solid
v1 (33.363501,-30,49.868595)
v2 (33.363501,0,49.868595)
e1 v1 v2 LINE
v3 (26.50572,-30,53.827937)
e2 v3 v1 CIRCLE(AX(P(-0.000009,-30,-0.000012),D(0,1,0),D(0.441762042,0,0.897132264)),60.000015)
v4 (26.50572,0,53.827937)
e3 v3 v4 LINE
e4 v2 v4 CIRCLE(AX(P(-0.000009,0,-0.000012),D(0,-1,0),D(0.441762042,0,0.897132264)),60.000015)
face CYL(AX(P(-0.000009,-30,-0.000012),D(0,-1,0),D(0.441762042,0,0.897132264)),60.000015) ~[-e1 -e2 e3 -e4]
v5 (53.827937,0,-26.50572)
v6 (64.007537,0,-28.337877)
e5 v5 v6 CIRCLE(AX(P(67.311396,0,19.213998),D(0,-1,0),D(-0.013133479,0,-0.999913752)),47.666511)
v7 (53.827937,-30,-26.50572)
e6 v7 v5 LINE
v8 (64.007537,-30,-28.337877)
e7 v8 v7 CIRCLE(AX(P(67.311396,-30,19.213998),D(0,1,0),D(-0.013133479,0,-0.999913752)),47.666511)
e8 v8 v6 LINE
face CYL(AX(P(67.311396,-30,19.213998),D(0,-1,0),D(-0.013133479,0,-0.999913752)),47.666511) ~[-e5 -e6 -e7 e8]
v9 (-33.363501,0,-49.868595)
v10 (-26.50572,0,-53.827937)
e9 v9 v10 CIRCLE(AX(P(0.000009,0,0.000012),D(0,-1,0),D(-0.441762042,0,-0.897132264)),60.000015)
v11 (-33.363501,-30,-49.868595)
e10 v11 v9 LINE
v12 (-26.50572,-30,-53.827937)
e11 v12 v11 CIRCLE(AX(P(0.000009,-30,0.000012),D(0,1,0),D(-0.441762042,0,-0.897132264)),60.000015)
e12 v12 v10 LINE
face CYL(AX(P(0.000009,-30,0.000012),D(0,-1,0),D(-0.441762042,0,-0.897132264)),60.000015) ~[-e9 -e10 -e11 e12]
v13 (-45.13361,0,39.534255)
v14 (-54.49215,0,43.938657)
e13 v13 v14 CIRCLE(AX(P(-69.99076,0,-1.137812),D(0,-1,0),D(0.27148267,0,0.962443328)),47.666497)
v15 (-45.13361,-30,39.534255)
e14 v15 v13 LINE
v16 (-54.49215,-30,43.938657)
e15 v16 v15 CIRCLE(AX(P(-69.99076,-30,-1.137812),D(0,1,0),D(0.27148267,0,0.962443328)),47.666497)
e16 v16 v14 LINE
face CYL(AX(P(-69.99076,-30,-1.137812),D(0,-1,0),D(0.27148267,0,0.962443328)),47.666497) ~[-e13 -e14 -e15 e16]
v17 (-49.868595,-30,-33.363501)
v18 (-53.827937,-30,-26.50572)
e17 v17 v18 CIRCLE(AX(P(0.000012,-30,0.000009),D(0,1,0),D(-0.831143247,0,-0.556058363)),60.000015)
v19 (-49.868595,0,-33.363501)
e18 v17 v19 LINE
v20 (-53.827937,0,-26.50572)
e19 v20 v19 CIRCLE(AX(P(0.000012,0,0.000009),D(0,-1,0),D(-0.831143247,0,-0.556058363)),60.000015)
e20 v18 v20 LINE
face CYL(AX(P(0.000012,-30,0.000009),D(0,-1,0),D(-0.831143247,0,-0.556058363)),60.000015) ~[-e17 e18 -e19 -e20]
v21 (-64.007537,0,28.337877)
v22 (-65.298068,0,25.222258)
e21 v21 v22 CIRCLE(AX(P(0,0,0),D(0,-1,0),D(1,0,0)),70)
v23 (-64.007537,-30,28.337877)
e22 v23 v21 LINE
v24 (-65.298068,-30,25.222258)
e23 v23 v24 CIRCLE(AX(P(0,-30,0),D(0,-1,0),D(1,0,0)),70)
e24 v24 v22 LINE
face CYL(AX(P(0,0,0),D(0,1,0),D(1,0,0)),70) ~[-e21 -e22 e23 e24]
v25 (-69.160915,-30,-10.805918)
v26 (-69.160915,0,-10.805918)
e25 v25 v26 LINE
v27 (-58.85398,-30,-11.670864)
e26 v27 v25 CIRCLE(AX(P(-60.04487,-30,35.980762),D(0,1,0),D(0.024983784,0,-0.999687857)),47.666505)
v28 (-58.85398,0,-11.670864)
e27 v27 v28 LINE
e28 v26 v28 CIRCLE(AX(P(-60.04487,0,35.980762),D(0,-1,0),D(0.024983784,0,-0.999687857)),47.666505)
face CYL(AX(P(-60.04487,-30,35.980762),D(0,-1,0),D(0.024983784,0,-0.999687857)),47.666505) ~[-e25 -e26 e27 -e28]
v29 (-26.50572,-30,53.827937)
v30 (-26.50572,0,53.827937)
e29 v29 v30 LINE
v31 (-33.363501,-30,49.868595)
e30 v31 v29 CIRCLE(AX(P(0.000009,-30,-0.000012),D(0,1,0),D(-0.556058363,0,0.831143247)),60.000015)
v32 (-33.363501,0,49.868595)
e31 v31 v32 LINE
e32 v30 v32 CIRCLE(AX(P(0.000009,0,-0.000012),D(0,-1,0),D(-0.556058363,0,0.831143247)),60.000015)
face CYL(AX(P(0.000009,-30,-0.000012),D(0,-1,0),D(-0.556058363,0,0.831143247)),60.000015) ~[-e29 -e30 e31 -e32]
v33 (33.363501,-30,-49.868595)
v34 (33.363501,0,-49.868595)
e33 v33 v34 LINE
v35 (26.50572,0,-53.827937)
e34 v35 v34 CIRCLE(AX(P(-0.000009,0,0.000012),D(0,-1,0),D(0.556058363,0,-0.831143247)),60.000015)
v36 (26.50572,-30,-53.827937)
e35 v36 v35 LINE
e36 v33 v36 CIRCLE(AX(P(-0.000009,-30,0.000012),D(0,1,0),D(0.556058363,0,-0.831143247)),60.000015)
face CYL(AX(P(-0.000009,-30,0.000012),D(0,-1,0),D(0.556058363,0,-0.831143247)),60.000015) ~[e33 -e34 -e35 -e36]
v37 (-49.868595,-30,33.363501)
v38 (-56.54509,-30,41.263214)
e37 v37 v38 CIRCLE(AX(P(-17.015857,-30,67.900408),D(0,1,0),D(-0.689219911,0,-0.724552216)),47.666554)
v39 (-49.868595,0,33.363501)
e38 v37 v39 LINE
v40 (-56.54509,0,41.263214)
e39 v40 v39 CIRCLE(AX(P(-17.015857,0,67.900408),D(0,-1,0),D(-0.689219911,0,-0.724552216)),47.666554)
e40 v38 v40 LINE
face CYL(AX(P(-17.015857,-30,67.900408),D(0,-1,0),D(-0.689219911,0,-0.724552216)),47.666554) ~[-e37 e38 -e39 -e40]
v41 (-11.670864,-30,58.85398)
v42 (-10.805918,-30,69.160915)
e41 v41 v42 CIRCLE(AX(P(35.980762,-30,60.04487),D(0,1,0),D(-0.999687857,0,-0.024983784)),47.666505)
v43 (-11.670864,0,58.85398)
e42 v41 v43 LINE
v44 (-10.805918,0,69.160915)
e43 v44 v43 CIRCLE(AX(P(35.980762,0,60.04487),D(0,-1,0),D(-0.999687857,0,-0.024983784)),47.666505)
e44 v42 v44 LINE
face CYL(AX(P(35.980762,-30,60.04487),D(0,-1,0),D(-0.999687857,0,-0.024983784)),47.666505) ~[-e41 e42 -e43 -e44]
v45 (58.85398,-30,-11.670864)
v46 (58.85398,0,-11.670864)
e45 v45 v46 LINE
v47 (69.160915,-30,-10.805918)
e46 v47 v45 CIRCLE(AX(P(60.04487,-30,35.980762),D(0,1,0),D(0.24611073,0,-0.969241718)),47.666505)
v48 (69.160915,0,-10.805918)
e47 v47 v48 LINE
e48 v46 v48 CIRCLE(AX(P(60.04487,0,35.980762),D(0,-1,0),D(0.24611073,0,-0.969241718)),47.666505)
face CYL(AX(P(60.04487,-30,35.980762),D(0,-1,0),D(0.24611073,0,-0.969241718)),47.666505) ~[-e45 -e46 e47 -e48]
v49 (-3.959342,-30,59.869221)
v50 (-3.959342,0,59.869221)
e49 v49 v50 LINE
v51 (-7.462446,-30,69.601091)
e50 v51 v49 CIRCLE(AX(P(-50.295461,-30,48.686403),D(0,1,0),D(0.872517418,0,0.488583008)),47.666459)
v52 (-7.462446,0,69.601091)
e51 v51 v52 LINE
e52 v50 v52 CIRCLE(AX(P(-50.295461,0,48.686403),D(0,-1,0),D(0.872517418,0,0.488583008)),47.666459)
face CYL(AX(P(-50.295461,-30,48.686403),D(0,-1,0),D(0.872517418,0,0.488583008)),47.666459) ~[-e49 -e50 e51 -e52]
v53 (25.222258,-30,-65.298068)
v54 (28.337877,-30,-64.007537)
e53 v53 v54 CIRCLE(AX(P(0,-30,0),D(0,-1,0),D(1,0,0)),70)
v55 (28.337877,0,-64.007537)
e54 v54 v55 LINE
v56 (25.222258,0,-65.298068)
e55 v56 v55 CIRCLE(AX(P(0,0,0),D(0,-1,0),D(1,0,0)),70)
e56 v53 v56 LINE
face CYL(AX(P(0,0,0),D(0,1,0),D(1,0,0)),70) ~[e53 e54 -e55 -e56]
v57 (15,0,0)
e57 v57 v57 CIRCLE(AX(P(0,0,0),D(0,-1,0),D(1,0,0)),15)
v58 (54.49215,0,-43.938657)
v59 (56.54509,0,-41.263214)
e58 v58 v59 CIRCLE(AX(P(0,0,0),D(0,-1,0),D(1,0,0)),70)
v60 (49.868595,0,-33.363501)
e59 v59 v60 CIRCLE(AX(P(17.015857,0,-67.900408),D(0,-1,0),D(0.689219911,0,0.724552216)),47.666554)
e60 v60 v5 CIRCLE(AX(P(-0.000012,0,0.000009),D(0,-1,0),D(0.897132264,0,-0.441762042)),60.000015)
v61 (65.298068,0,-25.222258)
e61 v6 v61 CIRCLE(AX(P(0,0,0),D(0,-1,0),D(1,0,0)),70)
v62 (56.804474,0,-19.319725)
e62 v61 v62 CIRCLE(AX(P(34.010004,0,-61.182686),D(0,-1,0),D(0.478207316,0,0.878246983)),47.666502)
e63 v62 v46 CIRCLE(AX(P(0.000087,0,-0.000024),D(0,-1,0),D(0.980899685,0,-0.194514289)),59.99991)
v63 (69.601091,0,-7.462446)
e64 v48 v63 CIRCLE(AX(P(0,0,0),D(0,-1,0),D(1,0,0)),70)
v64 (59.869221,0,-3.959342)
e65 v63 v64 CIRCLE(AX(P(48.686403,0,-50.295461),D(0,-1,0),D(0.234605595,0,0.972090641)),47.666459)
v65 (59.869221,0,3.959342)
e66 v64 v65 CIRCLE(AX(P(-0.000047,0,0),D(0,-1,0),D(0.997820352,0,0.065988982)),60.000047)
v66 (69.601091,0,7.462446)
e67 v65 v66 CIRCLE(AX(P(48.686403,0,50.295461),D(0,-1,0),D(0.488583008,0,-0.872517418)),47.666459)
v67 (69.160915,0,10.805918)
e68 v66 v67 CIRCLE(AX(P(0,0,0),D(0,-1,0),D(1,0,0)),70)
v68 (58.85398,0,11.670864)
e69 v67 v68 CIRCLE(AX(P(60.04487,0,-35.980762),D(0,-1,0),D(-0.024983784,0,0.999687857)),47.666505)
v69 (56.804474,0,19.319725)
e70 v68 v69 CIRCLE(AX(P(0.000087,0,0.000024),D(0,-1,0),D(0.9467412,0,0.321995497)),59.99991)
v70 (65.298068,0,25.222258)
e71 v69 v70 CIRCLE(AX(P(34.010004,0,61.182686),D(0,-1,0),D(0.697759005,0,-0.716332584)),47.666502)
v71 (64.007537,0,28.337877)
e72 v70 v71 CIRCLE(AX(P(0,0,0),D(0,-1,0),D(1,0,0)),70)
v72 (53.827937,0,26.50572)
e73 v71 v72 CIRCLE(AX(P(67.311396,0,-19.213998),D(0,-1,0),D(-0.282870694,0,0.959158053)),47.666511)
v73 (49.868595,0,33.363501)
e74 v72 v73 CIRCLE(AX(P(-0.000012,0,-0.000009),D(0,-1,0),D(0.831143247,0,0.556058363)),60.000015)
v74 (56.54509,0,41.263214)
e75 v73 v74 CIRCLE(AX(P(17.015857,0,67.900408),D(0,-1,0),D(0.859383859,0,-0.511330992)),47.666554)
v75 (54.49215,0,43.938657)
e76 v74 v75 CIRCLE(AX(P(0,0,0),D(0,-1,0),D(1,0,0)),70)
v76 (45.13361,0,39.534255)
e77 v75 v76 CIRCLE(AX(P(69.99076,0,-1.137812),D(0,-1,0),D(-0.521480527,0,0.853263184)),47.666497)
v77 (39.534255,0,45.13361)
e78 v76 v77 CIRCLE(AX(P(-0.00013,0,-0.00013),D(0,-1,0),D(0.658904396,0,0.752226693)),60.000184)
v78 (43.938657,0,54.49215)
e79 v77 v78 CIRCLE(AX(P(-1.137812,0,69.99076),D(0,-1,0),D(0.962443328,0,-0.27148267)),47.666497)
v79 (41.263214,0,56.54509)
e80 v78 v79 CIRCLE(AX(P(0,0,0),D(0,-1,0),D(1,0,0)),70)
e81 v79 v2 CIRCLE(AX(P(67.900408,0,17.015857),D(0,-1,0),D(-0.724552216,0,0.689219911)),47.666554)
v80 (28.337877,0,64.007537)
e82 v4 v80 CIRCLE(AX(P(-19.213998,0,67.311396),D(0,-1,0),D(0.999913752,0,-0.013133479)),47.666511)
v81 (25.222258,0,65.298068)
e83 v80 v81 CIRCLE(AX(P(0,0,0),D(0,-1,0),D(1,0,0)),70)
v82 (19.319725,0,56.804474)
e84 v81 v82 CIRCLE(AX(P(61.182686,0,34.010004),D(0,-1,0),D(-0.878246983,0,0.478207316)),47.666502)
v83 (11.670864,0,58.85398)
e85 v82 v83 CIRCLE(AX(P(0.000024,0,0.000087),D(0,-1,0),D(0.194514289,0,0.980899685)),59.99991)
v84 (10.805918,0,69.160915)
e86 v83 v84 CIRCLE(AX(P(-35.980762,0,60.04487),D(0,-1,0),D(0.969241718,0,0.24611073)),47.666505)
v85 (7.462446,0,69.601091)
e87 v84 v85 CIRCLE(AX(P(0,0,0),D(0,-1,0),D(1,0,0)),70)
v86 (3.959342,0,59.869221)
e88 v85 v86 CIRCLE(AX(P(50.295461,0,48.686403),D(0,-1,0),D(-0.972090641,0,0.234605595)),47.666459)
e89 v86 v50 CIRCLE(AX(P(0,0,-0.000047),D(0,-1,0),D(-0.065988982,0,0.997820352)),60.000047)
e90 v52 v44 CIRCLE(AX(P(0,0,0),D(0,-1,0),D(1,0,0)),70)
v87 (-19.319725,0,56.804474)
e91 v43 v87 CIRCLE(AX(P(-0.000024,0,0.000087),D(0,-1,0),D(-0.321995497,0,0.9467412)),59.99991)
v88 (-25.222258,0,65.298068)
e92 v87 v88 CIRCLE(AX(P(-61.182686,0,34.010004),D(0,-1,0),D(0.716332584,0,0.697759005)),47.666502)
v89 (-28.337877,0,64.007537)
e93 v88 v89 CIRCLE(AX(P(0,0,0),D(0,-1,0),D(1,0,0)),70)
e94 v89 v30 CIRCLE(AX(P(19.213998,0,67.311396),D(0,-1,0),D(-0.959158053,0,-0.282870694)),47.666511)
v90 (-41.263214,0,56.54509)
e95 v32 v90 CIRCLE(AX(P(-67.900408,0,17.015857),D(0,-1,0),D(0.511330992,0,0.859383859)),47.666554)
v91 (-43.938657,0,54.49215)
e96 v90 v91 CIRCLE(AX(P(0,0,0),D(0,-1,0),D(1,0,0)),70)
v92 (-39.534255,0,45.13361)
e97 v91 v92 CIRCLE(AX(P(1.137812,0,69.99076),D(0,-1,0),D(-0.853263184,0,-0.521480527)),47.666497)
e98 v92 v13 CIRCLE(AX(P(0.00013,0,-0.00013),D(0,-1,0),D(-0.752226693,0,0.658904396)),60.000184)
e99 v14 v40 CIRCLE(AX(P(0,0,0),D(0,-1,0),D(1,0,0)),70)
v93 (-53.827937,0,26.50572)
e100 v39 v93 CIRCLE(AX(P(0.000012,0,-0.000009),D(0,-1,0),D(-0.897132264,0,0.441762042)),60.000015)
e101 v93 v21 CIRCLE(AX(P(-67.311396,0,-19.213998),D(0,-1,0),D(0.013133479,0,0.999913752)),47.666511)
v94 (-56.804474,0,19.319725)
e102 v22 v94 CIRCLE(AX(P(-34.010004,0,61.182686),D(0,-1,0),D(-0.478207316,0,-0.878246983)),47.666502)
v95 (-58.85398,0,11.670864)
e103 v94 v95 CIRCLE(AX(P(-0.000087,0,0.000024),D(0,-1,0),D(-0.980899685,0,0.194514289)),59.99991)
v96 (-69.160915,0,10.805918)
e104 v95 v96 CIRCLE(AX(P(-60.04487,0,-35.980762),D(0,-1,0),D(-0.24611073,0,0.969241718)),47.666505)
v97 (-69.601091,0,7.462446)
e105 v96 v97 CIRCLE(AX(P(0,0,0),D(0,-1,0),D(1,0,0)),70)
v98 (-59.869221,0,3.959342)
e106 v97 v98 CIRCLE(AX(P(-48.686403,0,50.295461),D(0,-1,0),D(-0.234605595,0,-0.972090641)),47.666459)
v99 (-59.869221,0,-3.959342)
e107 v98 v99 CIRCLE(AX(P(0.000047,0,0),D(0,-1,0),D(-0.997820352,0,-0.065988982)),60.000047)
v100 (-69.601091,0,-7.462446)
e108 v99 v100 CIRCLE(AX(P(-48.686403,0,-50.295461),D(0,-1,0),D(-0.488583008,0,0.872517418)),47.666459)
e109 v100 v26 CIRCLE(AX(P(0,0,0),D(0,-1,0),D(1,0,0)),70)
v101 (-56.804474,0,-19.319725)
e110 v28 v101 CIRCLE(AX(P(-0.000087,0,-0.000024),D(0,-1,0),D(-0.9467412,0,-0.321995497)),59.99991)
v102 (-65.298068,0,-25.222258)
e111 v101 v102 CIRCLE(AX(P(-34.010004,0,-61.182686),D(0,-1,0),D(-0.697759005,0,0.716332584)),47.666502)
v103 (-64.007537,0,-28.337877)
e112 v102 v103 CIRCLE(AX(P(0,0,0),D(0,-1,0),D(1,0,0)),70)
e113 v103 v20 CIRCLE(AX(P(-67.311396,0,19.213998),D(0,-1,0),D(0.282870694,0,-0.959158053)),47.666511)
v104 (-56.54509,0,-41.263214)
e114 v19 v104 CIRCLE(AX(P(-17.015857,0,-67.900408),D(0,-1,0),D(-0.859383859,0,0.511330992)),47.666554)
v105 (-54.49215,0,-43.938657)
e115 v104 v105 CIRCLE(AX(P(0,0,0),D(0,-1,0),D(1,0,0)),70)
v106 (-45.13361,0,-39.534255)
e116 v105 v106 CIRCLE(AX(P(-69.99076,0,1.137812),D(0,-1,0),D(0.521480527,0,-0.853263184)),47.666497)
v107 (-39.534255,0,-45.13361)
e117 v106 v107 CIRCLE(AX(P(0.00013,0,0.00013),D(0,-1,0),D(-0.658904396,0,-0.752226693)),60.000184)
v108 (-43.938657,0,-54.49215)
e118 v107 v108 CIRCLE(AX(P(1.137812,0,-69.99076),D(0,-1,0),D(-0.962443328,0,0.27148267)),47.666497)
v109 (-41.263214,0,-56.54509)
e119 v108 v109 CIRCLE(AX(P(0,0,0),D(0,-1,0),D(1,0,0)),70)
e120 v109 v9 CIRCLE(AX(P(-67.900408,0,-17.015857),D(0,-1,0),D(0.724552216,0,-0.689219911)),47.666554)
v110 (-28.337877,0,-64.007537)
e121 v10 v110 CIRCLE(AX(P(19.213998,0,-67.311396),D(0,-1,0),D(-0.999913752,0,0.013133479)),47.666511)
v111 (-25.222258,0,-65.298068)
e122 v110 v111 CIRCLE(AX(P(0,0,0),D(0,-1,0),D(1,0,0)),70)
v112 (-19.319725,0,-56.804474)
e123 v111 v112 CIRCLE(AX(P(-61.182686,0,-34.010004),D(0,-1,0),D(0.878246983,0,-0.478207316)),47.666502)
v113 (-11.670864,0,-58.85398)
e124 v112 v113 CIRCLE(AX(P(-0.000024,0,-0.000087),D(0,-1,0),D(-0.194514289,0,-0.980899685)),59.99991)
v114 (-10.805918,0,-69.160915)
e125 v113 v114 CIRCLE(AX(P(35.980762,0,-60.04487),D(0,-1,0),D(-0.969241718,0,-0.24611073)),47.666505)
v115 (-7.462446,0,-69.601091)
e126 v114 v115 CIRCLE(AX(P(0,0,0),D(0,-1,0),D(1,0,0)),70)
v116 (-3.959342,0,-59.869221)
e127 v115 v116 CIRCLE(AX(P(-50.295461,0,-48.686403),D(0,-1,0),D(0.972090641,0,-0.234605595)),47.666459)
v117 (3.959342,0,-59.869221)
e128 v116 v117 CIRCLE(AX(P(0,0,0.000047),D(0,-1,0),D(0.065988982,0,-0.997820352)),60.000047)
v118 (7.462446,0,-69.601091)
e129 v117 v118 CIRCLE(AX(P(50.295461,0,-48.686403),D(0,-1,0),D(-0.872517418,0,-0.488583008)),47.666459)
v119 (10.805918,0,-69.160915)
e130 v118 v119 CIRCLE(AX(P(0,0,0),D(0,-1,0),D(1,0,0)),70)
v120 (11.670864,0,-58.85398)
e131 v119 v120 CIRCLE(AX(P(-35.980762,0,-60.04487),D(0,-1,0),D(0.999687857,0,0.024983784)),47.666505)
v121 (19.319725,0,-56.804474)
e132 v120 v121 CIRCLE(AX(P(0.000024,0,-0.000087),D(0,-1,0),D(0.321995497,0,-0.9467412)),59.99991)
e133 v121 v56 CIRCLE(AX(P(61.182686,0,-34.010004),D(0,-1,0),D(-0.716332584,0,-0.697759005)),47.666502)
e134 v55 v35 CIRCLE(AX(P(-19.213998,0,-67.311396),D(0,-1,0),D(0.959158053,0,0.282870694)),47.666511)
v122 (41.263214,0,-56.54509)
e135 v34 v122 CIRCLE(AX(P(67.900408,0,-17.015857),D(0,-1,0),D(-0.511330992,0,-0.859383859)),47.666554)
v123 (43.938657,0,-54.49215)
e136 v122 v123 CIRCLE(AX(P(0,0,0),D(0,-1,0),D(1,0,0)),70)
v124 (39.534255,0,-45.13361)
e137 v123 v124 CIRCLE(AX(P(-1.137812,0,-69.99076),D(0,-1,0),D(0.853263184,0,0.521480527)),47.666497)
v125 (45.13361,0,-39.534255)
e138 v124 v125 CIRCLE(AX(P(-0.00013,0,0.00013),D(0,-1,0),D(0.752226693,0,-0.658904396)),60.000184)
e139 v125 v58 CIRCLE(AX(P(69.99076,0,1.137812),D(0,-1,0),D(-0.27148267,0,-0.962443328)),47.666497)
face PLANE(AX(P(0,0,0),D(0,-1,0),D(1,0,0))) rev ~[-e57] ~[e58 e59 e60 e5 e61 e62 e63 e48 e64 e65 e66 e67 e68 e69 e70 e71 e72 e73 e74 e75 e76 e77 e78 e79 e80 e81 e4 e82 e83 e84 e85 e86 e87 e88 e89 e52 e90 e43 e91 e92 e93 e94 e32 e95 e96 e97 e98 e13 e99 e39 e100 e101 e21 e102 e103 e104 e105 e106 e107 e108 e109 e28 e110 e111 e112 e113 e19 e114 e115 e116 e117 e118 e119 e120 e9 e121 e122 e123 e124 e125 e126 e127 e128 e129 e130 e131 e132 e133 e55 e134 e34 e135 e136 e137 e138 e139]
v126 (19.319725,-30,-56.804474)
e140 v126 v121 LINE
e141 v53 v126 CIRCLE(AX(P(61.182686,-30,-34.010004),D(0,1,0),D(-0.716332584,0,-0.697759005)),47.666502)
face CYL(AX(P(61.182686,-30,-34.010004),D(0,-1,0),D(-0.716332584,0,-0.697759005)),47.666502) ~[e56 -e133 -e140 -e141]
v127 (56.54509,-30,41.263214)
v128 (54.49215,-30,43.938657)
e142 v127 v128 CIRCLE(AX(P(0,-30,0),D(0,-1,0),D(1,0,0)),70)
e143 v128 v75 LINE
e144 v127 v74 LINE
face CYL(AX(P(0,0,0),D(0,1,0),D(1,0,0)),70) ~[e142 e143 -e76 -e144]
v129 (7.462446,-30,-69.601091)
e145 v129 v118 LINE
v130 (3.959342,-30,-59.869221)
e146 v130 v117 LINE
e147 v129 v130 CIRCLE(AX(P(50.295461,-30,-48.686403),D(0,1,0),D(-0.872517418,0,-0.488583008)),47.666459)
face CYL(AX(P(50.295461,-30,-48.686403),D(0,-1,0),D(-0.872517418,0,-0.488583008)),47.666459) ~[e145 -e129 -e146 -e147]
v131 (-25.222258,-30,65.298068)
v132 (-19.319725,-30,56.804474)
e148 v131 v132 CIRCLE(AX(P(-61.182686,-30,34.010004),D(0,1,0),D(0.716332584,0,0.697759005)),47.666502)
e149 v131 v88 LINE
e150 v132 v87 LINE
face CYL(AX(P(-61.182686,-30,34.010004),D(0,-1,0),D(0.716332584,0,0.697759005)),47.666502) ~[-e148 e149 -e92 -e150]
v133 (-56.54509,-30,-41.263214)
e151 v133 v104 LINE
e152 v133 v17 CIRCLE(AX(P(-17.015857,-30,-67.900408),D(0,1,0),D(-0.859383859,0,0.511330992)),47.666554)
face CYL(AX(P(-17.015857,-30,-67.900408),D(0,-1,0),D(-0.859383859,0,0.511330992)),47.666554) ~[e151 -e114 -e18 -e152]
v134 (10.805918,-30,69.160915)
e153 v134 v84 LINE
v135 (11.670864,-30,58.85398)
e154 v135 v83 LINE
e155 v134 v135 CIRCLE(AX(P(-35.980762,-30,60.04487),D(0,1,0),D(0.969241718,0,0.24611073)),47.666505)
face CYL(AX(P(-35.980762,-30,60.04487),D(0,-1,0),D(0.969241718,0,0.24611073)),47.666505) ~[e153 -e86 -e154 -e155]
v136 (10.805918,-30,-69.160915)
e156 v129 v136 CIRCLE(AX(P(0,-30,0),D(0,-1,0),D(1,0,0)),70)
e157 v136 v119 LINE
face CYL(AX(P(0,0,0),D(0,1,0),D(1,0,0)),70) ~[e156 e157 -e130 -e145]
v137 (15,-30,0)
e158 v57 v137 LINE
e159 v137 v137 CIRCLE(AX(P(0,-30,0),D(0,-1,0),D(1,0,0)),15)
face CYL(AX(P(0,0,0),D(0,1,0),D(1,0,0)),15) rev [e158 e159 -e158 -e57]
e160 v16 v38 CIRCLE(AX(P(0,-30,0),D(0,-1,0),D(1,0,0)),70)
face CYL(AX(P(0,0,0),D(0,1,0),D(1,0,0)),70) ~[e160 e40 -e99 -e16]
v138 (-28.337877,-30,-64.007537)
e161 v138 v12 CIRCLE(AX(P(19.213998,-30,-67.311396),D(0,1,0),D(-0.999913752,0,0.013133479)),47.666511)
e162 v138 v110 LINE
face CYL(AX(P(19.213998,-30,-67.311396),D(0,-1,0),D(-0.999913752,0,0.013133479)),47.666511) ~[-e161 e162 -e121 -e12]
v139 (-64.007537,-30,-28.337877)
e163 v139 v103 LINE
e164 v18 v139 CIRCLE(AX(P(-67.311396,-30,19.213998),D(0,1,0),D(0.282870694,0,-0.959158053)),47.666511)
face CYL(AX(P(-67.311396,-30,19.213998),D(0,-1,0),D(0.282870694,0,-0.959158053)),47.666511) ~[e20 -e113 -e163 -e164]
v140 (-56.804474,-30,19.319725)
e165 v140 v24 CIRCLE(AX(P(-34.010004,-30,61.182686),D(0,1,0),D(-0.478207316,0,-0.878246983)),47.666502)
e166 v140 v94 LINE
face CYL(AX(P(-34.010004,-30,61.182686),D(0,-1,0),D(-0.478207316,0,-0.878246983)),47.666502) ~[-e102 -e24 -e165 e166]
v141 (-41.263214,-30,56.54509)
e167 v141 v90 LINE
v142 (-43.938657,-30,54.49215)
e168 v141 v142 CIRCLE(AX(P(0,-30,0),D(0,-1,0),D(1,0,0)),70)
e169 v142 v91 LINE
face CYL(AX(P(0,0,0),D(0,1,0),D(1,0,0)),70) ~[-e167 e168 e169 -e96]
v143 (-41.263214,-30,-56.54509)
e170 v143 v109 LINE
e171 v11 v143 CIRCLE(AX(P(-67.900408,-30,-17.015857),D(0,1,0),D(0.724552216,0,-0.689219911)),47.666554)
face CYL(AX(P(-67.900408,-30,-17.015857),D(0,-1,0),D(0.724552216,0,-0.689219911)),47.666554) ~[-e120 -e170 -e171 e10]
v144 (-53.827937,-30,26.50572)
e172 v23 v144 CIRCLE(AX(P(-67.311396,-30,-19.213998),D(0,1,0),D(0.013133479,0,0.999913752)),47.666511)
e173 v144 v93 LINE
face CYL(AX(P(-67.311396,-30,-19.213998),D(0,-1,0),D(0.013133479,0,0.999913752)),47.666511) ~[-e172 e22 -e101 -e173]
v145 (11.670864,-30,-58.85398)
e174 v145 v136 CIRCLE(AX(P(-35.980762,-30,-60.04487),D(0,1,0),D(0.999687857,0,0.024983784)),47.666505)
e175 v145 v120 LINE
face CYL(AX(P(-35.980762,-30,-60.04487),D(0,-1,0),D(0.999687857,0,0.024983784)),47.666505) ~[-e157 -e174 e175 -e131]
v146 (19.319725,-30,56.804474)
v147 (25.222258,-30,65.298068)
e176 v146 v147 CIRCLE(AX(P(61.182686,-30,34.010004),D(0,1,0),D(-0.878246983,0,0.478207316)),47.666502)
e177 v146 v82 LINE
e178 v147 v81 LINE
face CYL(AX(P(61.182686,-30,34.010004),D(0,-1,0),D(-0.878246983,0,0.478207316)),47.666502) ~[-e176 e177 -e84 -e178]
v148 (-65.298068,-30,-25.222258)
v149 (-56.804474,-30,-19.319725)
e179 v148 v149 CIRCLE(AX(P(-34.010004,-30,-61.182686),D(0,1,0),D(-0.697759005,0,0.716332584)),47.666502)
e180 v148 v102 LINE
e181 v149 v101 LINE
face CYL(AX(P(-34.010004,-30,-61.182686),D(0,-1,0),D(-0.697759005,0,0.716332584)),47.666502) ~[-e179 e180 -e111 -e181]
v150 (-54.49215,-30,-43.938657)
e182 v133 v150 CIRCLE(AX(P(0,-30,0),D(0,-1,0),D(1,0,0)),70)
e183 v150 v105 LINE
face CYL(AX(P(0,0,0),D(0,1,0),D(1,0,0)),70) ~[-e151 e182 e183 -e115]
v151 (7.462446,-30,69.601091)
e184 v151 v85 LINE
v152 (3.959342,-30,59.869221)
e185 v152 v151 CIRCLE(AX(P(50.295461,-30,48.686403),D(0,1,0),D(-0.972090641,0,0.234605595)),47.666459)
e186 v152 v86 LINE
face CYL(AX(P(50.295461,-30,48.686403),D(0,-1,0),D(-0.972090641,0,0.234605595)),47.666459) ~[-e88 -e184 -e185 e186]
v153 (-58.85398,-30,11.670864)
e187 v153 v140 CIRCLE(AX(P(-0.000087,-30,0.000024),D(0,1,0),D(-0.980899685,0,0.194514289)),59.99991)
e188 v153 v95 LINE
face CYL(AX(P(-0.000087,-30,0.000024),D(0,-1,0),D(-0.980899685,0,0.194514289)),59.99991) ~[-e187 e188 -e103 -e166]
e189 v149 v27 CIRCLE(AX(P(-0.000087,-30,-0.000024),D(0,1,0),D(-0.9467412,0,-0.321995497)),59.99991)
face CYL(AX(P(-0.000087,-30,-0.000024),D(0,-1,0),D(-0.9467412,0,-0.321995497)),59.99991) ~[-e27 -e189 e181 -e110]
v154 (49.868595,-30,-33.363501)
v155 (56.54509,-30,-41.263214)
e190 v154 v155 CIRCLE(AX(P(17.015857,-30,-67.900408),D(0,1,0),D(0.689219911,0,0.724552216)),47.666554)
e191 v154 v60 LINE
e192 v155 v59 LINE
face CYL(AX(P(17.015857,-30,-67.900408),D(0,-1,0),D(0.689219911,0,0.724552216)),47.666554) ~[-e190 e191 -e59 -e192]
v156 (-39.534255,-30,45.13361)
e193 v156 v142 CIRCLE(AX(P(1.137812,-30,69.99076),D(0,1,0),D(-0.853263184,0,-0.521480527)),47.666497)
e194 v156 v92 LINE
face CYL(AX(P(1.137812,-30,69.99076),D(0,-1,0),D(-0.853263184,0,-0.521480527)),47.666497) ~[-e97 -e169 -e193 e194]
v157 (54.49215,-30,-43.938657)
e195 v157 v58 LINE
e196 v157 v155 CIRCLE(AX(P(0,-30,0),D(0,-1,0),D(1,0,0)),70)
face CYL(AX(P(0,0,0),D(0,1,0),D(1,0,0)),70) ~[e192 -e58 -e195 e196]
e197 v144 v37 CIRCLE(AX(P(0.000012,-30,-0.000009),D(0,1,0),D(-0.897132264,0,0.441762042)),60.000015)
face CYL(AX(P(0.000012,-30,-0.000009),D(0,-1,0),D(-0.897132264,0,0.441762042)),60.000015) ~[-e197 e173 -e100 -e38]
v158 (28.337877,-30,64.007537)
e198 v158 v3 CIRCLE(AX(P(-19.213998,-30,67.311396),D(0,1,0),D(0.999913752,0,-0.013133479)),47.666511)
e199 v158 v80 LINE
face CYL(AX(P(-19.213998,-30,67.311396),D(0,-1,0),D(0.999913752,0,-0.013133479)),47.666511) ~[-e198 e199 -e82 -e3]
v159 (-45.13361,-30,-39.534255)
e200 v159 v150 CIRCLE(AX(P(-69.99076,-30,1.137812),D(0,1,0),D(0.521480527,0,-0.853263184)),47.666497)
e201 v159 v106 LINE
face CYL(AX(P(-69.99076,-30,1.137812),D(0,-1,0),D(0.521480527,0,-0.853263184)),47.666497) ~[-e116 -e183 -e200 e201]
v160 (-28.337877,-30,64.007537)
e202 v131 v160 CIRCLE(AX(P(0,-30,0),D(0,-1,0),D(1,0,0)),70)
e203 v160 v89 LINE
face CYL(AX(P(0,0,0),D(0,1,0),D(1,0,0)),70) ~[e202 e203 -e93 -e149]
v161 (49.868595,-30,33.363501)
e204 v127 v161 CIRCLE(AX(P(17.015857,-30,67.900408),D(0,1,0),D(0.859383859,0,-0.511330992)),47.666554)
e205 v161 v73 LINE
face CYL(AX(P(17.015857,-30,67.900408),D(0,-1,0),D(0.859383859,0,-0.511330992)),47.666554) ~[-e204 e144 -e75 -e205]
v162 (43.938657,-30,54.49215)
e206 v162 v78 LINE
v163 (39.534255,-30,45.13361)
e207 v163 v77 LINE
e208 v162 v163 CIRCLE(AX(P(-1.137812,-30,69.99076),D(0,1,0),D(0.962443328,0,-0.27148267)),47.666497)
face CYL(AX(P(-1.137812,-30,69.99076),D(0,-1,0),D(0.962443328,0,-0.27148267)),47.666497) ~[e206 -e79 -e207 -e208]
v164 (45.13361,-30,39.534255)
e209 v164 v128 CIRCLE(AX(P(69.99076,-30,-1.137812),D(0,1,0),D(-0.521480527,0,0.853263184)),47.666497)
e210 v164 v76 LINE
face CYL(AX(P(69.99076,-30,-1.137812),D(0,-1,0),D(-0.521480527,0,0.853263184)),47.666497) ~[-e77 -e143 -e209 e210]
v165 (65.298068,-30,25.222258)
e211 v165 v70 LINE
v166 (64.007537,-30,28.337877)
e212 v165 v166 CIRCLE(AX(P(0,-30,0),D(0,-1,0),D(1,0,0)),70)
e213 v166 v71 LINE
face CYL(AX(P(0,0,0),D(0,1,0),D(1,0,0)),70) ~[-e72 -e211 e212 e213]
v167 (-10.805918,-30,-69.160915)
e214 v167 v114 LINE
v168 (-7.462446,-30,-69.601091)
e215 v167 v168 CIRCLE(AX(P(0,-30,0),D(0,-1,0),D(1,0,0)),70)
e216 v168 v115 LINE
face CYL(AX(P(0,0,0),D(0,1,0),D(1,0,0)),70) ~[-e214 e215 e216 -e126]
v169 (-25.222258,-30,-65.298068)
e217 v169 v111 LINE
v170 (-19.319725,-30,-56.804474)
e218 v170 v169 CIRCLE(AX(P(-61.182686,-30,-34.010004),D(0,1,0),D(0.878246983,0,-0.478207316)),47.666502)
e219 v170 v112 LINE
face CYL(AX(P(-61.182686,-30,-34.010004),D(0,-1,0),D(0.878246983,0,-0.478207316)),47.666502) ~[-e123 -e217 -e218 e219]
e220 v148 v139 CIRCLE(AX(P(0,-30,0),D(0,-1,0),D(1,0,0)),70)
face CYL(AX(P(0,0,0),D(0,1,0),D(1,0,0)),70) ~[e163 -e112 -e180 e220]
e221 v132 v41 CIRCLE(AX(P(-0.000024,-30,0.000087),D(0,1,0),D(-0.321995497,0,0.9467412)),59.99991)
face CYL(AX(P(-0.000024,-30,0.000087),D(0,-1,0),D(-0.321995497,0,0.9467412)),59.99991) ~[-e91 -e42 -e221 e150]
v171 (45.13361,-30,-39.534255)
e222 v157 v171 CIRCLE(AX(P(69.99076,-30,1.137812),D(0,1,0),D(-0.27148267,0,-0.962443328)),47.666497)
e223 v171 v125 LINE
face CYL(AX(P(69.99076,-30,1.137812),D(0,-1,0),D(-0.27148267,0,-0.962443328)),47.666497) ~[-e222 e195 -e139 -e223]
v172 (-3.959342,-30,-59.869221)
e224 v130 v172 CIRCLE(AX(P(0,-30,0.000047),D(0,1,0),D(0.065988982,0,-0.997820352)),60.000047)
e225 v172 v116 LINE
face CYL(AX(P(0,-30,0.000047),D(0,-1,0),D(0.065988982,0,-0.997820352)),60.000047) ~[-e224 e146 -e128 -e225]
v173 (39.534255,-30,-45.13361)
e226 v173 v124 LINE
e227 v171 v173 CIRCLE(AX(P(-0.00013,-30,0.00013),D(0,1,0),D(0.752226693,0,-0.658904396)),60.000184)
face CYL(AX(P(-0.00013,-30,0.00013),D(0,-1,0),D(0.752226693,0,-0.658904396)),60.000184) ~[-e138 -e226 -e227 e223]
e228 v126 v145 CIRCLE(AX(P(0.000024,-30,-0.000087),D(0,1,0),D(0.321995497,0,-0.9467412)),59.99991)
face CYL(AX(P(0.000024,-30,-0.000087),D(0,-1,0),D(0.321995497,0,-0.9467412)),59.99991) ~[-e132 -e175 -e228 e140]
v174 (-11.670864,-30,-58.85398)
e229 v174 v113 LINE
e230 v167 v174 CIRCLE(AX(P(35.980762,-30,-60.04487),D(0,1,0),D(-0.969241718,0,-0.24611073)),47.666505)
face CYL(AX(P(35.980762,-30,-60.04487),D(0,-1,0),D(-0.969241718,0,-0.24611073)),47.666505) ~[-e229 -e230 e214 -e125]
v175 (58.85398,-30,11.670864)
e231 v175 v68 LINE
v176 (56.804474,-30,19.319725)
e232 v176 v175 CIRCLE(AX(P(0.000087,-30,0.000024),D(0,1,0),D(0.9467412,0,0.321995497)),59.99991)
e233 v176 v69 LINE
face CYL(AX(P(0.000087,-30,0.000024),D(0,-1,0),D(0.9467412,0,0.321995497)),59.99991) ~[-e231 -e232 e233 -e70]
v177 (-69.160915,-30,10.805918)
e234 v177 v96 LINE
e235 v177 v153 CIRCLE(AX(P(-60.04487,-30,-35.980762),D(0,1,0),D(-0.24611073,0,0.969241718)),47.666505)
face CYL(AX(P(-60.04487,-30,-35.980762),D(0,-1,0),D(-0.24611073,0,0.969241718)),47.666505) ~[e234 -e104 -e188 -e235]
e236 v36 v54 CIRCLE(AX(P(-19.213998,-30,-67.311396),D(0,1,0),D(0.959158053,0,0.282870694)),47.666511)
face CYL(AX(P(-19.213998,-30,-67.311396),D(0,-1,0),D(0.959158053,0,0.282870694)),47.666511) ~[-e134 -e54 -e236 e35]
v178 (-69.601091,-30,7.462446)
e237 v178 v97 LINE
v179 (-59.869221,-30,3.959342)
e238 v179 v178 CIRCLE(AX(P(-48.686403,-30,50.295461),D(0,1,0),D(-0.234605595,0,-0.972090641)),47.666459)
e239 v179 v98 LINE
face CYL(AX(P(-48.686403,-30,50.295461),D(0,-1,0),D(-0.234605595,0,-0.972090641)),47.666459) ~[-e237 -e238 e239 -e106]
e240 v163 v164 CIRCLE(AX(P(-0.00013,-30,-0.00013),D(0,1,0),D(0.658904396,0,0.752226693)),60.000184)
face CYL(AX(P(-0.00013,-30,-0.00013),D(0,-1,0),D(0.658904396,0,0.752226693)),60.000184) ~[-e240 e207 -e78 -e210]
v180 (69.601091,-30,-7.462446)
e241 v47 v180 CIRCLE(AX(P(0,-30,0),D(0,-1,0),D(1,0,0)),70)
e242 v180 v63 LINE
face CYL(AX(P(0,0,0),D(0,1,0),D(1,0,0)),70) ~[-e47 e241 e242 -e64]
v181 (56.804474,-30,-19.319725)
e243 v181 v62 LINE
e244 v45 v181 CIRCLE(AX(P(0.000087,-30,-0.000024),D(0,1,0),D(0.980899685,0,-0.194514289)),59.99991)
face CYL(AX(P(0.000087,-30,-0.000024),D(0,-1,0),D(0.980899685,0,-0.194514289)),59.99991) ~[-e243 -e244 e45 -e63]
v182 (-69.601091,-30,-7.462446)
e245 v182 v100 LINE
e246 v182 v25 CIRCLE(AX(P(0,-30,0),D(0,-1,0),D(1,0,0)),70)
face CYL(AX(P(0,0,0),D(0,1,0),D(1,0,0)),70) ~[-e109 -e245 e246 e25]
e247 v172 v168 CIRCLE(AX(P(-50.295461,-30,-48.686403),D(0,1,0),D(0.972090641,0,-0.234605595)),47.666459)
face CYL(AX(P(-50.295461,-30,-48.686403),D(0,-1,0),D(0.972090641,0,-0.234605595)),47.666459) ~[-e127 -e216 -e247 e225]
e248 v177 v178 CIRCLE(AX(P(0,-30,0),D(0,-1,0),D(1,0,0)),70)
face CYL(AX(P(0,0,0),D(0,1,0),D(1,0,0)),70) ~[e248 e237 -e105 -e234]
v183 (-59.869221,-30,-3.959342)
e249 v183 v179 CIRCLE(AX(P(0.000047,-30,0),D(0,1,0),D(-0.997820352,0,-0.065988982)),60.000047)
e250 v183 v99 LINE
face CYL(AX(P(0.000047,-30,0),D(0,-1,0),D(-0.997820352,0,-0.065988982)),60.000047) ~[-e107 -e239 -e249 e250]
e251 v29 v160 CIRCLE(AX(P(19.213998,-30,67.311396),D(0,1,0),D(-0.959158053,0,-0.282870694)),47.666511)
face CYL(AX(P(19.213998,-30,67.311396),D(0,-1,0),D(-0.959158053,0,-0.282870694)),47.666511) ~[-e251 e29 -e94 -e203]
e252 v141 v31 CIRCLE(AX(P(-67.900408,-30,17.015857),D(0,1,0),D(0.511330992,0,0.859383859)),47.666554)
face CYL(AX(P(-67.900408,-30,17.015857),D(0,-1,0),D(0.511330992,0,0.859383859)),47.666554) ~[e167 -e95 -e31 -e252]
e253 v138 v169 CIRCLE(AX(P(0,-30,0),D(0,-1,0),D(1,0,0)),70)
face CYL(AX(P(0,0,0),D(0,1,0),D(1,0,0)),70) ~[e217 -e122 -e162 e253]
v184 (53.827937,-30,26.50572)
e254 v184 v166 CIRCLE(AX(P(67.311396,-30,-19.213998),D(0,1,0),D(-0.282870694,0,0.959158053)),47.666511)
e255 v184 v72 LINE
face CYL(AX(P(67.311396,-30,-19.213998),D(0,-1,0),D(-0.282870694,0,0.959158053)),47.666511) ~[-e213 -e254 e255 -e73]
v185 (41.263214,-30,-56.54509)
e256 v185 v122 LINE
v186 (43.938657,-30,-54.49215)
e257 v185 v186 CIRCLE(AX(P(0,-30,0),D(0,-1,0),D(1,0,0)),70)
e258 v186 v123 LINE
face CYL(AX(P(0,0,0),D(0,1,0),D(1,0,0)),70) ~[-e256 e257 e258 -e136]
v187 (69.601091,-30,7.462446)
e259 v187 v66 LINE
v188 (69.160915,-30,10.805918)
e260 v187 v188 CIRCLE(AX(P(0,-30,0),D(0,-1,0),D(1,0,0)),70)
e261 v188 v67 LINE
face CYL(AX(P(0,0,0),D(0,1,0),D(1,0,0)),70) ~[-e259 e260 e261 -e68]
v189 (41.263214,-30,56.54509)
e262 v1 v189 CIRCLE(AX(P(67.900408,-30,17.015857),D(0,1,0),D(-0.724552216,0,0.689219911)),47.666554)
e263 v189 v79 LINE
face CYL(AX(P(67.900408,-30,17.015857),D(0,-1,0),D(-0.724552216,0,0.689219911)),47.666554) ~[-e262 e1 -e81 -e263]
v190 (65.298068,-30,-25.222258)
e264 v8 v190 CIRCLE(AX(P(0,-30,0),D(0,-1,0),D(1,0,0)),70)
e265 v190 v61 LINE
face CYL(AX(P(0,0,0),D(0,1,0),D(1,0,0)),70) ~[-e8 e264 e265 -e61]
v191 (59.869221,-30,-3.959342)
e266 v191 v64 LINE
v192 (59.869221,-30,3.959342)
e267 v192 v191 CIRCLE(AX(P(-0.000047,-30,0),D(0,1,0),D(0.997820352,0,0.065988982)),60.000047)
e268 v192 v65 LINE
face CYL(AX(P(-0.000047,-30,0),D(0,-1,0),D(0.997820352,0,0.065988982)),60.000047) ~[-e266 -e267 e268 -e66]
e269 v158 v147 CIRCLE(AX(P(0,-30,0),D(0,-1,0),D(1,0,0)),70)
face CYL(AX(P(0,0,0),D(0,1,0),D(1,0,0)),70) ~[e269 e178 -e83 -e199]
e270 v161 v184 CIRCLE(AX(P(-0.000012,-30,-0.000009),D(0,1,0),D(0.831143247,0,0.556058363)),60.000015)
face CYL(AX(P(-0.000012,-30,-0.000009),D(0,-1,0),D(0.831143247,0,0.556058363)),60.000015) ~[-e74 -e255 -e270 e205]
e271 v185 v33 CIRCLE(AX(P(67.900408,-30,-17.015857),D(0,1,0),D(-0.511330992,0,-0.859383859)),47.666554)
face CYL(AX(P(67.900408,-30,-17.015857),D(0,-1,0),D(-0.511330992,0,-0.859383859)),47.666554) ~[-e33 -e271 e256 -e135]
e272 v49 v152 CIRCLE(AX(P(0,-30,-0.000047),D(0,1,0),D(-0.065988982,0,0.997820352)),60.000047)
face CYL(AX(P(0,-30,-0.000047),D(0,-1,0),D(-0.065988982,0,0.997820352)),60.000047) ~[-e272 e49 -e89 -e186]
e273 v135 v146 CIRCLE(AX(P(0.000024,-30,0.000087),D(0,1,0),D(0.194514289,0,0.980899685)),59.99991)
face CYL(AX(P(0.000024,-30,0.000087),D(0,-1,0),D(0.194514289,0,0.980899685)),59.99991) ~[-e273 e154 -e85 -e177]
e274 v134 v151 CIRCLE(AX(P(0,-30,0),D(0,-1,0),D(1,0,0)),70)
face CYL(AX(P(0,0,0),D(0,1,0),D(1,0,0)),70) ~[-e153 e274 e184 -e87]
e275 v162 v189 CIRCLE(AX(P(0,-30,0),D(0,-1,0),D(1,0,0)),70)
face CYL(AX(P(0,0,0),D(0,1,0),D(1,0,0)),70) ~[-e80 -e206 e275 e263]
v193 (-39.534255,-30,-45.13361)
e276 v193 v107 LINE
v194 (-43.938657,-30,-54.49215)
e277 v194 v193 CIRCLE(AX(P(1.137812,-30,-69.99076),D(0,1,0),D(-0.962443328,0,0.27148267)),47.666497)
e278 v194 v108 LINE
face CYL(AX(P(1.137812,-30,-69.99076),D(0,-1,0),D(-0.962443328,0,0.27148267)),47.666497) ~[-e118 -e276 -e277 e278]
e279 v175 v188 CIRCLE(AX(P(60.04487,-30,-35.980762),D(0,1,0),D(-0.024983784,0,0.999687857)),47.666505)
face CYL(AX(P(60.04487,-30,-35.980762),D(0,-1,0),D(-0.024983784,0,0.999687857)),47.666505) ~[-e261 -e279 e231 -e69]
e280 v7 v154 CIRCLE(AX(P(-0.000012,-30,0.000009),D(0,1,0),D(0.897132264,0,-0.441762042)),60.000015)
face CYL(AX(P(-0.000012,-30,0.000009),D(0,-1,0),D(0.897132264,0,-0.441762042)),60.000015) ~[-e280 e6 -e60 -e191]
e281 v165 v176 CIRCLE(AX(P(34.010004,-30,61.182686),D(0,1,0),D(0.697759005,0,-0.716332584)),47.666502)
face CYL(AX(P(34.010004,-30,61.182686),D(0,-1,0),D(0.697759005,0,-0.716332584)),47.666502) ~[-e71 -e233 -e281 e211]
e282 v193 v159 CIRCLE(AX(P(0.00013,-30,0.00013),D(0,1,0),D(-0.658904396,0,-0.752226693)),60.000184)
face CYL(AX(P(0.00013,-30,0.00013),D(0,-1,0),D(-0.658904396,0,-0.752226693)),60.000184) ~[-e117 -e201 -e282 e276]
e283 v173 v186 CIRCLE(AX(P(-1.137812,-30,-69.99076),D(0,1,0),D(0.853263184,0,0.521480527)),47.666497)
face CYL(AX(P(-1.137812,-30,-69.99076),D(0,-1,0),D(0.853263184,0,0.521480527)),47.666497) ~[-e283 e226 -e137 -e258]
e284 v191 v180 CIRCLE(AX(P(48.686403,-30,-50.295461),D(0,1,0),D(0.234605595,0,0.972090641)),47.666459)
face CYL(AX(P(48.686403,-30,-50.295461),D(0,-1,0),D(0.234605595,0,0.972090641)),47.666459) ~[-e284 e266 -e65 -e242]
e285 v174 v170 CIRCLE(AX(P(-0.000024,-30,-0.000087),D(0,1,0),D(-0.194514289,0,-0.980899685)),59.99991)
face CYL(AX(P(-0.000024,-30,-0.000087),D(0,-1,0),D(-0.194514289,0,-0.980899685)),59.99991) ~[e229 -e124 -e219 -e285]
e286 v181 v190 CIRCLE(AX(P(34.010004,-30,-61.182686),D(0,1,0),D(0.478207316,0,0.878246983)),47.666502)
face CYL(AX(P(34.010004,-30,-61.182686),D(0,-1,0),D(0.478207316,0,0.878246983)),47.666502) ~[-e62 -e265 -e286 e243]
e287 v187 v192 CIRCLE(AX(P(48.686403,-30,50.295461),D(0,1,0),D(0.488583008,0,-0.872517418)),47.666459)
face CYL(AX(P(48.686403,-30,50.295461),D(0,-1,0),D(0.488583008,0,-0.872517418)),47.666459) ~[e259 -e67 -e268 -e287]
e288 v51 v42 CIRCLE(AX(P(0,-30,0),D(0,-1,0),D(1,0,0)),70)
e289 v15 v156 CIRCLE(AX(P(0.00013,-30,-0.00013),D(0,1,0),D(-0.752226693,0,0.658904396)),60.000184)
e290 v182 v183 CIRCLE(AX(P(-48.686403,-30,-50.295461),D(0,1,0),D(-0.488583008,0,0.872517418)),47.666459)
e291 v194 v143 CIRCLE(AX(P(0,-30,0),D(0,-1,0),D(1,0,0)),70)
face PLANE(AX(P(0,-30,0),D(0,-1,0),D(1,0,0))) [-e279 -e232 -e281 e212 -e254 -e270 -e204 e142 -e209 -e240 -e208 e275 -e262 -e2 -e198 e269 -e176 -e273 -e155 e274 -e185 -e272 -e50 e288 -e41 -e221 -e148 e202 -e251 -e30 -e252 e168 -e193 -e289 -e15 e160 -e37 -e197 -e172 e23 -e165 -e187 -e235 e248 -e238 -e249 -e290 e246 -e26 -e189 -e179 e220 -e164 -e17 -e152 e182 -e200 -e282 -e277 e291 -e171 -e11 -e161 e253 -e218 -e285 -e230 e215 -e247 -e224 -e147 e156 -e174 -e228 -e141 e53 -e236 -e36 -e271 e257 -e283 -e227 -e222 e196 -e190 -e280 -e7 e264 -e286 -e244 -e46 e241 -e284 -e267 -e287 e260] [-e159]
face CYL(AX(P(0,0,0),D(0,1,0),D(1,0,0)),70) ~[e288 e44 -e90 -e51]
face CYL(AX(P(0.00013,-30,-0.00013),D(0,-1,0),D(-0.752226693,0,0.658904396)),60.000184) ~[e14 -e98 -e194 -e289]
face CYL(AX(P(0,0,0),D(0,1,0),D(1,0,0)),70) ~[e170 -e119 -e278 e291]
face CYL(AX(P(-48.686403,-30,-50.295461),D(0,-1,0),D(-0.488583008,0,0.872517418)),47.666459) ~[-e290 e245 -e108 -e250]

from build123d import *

# Parameters (mm, degrees)
F0_R     = 70
F0_R_2   = 15
F1_DEPTH = 30
F3_DEPTH = 31


with BuildPart() as f1:
    # F0 (on Front) → F1 (new body)
    with BuildSketch(Plane.XZ):
        Circle(F0_R)
        Circle(F0_R_2, mode=Mode.SUBTRACT)
    extrude(amount=F1_DEPTH)

    # F2 (on face) → F3 (cut)
    with BuildSketch(Plane.XZ.offset(30)):
        with BuildLine():
            ThreePointArc((3.959342, 59.869221), (5.917735, 66.084931), (8.705645, 71.975425))
            ThreePointArc((8.705645, 71.975425), (0, 72.5), (-8.705645, 71.975425))
            ThreePointArc((-8.705645, 71.975425), (-5.917735, 66.084931), (-3.959342, 59.869221))
            ThreePointArc((-3.959342, 59.869221), (0, 60), (3.959342, 59.869221))
        make_face()
        with BuildLine():
            ThreePointArc((-11.670864, 58.85398), (-11.387945, 65.364764), (-10.219603, 71.776108))
            ThreePointArc((-10.219603, 71.776108), (-18.764381, 70.029622), (-27.037618, 67.269735))
            ThreePointArc((-27.037618, 67.269735), (-22.820132, 62.301519), (-19.319725, 56.804474))
            ThreePointArc((-19.319725, 56.804474), (-15.529143, 57.95555), (-11.670864, 58.85398))
        make_face()
        with BuildLine():
            ThreePointArc((-26.50572, 53.827937), (-27.917556, 60.190097), (-28.448402, 66.685369))
            ThreePointArc((-28.448402, 66.685369), (-36.25, 62.786842), (-43.527022, 57.979724))
            ThreePointArc((-43.527022, 57.979724), (-38.167375, 54.272361), (-33.363501, 49.868595))
            ThreePointArc((-33.363501, 49.868595), (-30, 51.961524), (-26.50572, 53.827937))
        make_face()
        with BuildLine():
            ThreePointArc((-39.534255, 45.13361), (-42.544632, 50.913574), (-44.73849, 57.050132))
            ThreePointArc((-44.73849, 57.050132), (-51.265242, 51.265242), (-57.050132, 44.73849))
            ThreePointArc((-57.050132, 44.73849), (-50.913574, 42.544632), (-45.13361, 39.534255))
            ThreePointArc((-45.13361, 39.534255), (-42.426407, 42.426407), (-39.534255, 45.13361))
        make_face()
        with BuildLine():
            ThreePointArc((-49.868595, 33.363501), (-54.272361, 38.167375), (-57.979724, 43.527022))
            ThreePointArc((-57.979724, 43.527022), (-62.786842, 36.25), (-66.685369, 28.448402))
            ThreePointArc((-66.685369, 28.448402), (-60.190097, 27.917556), (-53.827937, 26.50572))
            ThreePointArc((-53.827937, 26.50572), (-51.961524, 30), (-49.868595, 33.363501))
        make_face()
        with BuildLine():
            ThreePointArc((-56.804474, 19.319725), (-62.301519, 22.820132), (-67.269735, 27.037618))
            ThreePointArc((-67.269735, 27.037618), (-70.029622, 18.764381), (-71.776108, 10.219603))
            ThreePointArc((-71.776108, 10.219603), (-65.364764, 11.387945), (-58.85398, 11.670864))
            ThreePointArc((-58.85398, 11.670864), (-57.95555, 15.529143), (-56.804474, 19.319725))
        make_face()
        with BuildLine():
            ThreePointArc((-59.869221, 3.959342), (-66.084931, 5.917735), (-71.975425, 8.705645))
            ThreePointArc((-71.975425, 8.705645), (-72.5, 0), (-71.975425, -8.705645))
            ThreePointArc((-71.975425, -8.705645), (-66.084931, -5.917735), (-59.869221, -3.959342))
            ThreePointArc((-59.869221, -3.959342), (-60, 0), (-59.869221, 3.959342))
        make_face()
        with BuildLine():
            ThreePointArc((-58.85398, -11.670864), (-65.364764, -11.387945), (-71.776108, -10.219603))
            ThreePointArc((-71.776108, -10.219603), (-70.029622, -18.764381), (-67.269735, -27.037618))
            ThreePointArc((-67.269735, -27.037618), (-62.301519, -22.820132), (-56.804474, -19.319725))
            ThreePointArc((-56.804474, -19.319725), (-57.95555, -15.529143), (-58.85398, -11.670864))
        make_face()
        with BuildLine():
            ThreePointArc((-53.827937, -26.50572), (-60.190097, -27.917556), (-66.685369, -28.448402))
            ThreePointArc((-66.685369, -28.448402), (-62.786842, -36.25), (-57.979724, -43.527022))
            ThreePointArc((-57.979724, -43.527022), (-54.272361, -38.167375), (-49.868595, -33.363501))
            ThreePointArc((-49.868595, -33.363501), (-51.961524, -30), (-53.827937, -26.50572))
        make_face()
        with BuildLine():
            ThreePointArc((-45.13361, -39.534255), (-50.913574, -42.544632), (-57.050132, -44.73849))
            ThreePointArc((-57.050132, -44.73849), (-51.265242, -51.265242), (-44.73849, -57.050132))
            ThreePointArc((-44.73849, -57.050132), (-42.544632, -50.913574), (-39.534255, -45.13361))
            ThreePointArc((-39.534255, -45.13361), (-42.426407, -42.426407), (-45.13361, -39.534255))
        make_face()
        with BuildLine():
            ThreePointArc((-33.363501, -49.868595), (-38.167375, -54.272361), (-43.527022, -57.979724))
            ThreePointArc((-43.527022, -57.979724), (-36.25, -62.786842), (-28.448402, -66.685369))
            ThreePointArc((-28.448402, -66.685369), (-27.917556, -60.190097), (-26.50572, -53.827937))
            ThreePointArc((-26.50572, -53.827937), (-30, -51.961524), (-33.363501, -49.868595))
        make_face()
        with BuildLine():
            ThreePointArc((-19.319725, -56.804474), (-22.820132, -62.301519), (-27.037618, -67.269735))
            ThreePointArc((-27.037618, -67.269735), (-18.764381, -70.029622), (-10.219603, -71.776108))
            ThreePointArc((-10.219603, -71.776108), (-11.387945, -65.364764), (-11.670864, -58.85398))
            ThreePointArc((-11.670864, -58.85398), (-15.529143, -57.95555), (-19.319725, -56.804474))
        make_face()
        with BuildLine():
            ThreePointArc((-3.959342, -59.869221), (-5.917735, -66.084931), (-8.705645, -71.975425))
            ThreePointArc((-8.705645, -71.975425), (0, -72.5), (8.705645, -71.975425))
            ThreePointArc((8.705645, -71.975425), (5.917735, -66.084931), (3.959342, -59.869221))
            ThreePointArc((3.959342, -59.869221), (0, -60), (-3.959342, -59.869221))
        make_face()
        with BuildLine():
            ThreePointArc((11.670864, -58.85398), (11.387945, -65.364764), (10.219603, -71.776108))
            ThreePointArc((10.219603, -71.776108), (18.764381, -70.029622), (27.037618, -67.269735))
            ThreePointArc((27.037618, -67.269735), (22.820132, -62.301519), (19.319725, -56.804474))
            ThreePointArc((19.319725, -56.804474), (15.529143, -57.95555), (11.670864, -58.85398))
        make_face()
        with BuildLine():
            ThreePointArc((26.50572, -53.827937), (27.917556, -60.190097), (28.448402, -66.685369))
            ThreePointArc((28.448402, -66.685369), (36.25, -62.786842), (43.527022, -57.979724))
            ThreePointArc((43.527022, -57.979724), (38.167375, -54.272361), (33.363501, -49.868595))
            ThreePointArc((33.363501, -49.868595), (30, -51.961524), (26.50572, -53.827937))
        make_face()
        with BuildLine():
            ThreePointArc((39.534255, -45.13361), (42.544632, -50.913574), (44.73849, -57.050132))
            ThreePointArc((44.73849, -57.050132), (51.265242, -51.265242), (57.050132, -44.73849))
            ThreePointArc((57.050132, -44.73849), (50.913574, -42.544632), (45.13361, -39.534255))
            ThreePointArc((45.13361, -39.534255), (42.426407, -42.426407), (39.534255, -45.13361))
        make_face()
        with BuildLine():
            ThreePointArc((49.868595, -33.363501), (54.272361, -38.167375), (57.979724, -43.527022))
            ThreePointArc((57.979724, -43.527022), (62.786842, -36.25), (66.685369, -28.448402))
            ThreePointArc((66.685369, -28.448402), (60.190097, -27.917556), (53.827937, -26.50572))
            ThreePointArc((53.827937, -26.50572), (51.961524, -30), (49.868595, -33.363501))
        make_face()
        with BuildLine():
            ThreePointArc((56.804474, -19.319725), (62.301519, -22.820132), (67.269735, -27.037618))
            ThreePointArc((67.269735, -27.037618), (70.029622, -18.764381), (71.776108, -10.219603))
            ThreePointArc((71.776108, -10.219603), (65.364764, -11.387945), (58.85398, -11.670864))
            ThreePointArc((58.85398, -11.670864), (57.95555, -15.529143), (56.804474, -19.319725))
        make_face()
        with BuildLine():
            ThreePointArc((59.869221, -3.959342), (66.084931, -5.917735), (71.975425, -8.705645))
            ThreePointArc((71.975425, -8.705645), (72.5, 0), (71.975425, 8.705645))
            ThreePointArc((71.975425, 8.705645), (66.084931, 5.917735), (59.869221, 3.959342))
            ThreePointArc((59.869221, 3.959342), (60, 0), (59.869221, -3.959342))
        make_face()
        with BuildLine():
            ThreePointArc((58.85398, 11.670864), (65.364764, 11.387945), (71.776108, 10.219603))
            ThreePointArc((71.776108, 10.219603), (70.029622, 18.764381), (67.269735, 27.037618))
            ThreePointArc((67.269735, 27.037618), (62.301519, 22.820132), (56.804474, 19.319725))
            ThreePointArc((56.804474, 19.319725), (57.95555, 15.529143), (58.85398, 11.670864))
        make_face()
        with BuildLine():
            ThreePointArc((53.827937, 26.50572), (60.190097, 27.917556), (66.685369, 28.448402))
            ThreePointArc((66.685369, 28.448402), (62.786842, 36.25), (57.979724, 43.527022))
            ThreePointArc((57.979724, 43.527022), (54.272361, 38.167375), (49.868595, 33.363501))
            ThreePointArc((49.868595, 33.363501), (51.961524, 30), (53.827937, 26.50572))
        make_face()
        with BuildLine():
            ThreePointArc((45.13361, 39.534255), (50.913574, 42.544632), (57.050132, 44.73849))
            ThreePointArc((57.050132, 44.73849), (51.265242, 51.265242), (44.73849, 57.050132))
            ThreePointArc((44.73849, 57.050132), (42.544632, 50.913574), (39.534255, 45.13361))
            ThreePointArc((39.534255, 45.13361), (42.426407, 42.426407), (45.13361, 39.534255))
        make_face()
        with BuildLine():
            ThreePointArc((33.363501, 49.868595), (38.167375, 54.272361), (43.527022, 57.979724))
            ThreePointArc((43.527022, 57.979724), (36.25, 62.786842), (28.448402, 66.685369))
            ThreePointArc((28.448402, 66.685369), (27.917556, 60.190097), (26.50572, 53.827937))
            ThreePointArc((26.50572, 53.827937), (30, 51.961524), (33.363501, 49.868595))
        make_face()
        with BuildLine():
            ThreePointArc((19.319725, 56.804474), (22.820132, 62.301519), (27.037618, 67.269735))
            ThreePointArc((27.037618, 67.269735), (18.764381, 70.029622), (10.219603, 71.776108))
            ThreePointArc((10.219603, 71.776108), (11.387945, 65.364764), (11.670864, 58.85398))
            ThreePointArc((11.670864, 58.85398), (15.529143, 57.95555), (19.319725, 56.804474))
        make_face()
    extrude(amount=-F3_DEPTH, mode=Mode.SUBTRACT)


solid = f1.part
